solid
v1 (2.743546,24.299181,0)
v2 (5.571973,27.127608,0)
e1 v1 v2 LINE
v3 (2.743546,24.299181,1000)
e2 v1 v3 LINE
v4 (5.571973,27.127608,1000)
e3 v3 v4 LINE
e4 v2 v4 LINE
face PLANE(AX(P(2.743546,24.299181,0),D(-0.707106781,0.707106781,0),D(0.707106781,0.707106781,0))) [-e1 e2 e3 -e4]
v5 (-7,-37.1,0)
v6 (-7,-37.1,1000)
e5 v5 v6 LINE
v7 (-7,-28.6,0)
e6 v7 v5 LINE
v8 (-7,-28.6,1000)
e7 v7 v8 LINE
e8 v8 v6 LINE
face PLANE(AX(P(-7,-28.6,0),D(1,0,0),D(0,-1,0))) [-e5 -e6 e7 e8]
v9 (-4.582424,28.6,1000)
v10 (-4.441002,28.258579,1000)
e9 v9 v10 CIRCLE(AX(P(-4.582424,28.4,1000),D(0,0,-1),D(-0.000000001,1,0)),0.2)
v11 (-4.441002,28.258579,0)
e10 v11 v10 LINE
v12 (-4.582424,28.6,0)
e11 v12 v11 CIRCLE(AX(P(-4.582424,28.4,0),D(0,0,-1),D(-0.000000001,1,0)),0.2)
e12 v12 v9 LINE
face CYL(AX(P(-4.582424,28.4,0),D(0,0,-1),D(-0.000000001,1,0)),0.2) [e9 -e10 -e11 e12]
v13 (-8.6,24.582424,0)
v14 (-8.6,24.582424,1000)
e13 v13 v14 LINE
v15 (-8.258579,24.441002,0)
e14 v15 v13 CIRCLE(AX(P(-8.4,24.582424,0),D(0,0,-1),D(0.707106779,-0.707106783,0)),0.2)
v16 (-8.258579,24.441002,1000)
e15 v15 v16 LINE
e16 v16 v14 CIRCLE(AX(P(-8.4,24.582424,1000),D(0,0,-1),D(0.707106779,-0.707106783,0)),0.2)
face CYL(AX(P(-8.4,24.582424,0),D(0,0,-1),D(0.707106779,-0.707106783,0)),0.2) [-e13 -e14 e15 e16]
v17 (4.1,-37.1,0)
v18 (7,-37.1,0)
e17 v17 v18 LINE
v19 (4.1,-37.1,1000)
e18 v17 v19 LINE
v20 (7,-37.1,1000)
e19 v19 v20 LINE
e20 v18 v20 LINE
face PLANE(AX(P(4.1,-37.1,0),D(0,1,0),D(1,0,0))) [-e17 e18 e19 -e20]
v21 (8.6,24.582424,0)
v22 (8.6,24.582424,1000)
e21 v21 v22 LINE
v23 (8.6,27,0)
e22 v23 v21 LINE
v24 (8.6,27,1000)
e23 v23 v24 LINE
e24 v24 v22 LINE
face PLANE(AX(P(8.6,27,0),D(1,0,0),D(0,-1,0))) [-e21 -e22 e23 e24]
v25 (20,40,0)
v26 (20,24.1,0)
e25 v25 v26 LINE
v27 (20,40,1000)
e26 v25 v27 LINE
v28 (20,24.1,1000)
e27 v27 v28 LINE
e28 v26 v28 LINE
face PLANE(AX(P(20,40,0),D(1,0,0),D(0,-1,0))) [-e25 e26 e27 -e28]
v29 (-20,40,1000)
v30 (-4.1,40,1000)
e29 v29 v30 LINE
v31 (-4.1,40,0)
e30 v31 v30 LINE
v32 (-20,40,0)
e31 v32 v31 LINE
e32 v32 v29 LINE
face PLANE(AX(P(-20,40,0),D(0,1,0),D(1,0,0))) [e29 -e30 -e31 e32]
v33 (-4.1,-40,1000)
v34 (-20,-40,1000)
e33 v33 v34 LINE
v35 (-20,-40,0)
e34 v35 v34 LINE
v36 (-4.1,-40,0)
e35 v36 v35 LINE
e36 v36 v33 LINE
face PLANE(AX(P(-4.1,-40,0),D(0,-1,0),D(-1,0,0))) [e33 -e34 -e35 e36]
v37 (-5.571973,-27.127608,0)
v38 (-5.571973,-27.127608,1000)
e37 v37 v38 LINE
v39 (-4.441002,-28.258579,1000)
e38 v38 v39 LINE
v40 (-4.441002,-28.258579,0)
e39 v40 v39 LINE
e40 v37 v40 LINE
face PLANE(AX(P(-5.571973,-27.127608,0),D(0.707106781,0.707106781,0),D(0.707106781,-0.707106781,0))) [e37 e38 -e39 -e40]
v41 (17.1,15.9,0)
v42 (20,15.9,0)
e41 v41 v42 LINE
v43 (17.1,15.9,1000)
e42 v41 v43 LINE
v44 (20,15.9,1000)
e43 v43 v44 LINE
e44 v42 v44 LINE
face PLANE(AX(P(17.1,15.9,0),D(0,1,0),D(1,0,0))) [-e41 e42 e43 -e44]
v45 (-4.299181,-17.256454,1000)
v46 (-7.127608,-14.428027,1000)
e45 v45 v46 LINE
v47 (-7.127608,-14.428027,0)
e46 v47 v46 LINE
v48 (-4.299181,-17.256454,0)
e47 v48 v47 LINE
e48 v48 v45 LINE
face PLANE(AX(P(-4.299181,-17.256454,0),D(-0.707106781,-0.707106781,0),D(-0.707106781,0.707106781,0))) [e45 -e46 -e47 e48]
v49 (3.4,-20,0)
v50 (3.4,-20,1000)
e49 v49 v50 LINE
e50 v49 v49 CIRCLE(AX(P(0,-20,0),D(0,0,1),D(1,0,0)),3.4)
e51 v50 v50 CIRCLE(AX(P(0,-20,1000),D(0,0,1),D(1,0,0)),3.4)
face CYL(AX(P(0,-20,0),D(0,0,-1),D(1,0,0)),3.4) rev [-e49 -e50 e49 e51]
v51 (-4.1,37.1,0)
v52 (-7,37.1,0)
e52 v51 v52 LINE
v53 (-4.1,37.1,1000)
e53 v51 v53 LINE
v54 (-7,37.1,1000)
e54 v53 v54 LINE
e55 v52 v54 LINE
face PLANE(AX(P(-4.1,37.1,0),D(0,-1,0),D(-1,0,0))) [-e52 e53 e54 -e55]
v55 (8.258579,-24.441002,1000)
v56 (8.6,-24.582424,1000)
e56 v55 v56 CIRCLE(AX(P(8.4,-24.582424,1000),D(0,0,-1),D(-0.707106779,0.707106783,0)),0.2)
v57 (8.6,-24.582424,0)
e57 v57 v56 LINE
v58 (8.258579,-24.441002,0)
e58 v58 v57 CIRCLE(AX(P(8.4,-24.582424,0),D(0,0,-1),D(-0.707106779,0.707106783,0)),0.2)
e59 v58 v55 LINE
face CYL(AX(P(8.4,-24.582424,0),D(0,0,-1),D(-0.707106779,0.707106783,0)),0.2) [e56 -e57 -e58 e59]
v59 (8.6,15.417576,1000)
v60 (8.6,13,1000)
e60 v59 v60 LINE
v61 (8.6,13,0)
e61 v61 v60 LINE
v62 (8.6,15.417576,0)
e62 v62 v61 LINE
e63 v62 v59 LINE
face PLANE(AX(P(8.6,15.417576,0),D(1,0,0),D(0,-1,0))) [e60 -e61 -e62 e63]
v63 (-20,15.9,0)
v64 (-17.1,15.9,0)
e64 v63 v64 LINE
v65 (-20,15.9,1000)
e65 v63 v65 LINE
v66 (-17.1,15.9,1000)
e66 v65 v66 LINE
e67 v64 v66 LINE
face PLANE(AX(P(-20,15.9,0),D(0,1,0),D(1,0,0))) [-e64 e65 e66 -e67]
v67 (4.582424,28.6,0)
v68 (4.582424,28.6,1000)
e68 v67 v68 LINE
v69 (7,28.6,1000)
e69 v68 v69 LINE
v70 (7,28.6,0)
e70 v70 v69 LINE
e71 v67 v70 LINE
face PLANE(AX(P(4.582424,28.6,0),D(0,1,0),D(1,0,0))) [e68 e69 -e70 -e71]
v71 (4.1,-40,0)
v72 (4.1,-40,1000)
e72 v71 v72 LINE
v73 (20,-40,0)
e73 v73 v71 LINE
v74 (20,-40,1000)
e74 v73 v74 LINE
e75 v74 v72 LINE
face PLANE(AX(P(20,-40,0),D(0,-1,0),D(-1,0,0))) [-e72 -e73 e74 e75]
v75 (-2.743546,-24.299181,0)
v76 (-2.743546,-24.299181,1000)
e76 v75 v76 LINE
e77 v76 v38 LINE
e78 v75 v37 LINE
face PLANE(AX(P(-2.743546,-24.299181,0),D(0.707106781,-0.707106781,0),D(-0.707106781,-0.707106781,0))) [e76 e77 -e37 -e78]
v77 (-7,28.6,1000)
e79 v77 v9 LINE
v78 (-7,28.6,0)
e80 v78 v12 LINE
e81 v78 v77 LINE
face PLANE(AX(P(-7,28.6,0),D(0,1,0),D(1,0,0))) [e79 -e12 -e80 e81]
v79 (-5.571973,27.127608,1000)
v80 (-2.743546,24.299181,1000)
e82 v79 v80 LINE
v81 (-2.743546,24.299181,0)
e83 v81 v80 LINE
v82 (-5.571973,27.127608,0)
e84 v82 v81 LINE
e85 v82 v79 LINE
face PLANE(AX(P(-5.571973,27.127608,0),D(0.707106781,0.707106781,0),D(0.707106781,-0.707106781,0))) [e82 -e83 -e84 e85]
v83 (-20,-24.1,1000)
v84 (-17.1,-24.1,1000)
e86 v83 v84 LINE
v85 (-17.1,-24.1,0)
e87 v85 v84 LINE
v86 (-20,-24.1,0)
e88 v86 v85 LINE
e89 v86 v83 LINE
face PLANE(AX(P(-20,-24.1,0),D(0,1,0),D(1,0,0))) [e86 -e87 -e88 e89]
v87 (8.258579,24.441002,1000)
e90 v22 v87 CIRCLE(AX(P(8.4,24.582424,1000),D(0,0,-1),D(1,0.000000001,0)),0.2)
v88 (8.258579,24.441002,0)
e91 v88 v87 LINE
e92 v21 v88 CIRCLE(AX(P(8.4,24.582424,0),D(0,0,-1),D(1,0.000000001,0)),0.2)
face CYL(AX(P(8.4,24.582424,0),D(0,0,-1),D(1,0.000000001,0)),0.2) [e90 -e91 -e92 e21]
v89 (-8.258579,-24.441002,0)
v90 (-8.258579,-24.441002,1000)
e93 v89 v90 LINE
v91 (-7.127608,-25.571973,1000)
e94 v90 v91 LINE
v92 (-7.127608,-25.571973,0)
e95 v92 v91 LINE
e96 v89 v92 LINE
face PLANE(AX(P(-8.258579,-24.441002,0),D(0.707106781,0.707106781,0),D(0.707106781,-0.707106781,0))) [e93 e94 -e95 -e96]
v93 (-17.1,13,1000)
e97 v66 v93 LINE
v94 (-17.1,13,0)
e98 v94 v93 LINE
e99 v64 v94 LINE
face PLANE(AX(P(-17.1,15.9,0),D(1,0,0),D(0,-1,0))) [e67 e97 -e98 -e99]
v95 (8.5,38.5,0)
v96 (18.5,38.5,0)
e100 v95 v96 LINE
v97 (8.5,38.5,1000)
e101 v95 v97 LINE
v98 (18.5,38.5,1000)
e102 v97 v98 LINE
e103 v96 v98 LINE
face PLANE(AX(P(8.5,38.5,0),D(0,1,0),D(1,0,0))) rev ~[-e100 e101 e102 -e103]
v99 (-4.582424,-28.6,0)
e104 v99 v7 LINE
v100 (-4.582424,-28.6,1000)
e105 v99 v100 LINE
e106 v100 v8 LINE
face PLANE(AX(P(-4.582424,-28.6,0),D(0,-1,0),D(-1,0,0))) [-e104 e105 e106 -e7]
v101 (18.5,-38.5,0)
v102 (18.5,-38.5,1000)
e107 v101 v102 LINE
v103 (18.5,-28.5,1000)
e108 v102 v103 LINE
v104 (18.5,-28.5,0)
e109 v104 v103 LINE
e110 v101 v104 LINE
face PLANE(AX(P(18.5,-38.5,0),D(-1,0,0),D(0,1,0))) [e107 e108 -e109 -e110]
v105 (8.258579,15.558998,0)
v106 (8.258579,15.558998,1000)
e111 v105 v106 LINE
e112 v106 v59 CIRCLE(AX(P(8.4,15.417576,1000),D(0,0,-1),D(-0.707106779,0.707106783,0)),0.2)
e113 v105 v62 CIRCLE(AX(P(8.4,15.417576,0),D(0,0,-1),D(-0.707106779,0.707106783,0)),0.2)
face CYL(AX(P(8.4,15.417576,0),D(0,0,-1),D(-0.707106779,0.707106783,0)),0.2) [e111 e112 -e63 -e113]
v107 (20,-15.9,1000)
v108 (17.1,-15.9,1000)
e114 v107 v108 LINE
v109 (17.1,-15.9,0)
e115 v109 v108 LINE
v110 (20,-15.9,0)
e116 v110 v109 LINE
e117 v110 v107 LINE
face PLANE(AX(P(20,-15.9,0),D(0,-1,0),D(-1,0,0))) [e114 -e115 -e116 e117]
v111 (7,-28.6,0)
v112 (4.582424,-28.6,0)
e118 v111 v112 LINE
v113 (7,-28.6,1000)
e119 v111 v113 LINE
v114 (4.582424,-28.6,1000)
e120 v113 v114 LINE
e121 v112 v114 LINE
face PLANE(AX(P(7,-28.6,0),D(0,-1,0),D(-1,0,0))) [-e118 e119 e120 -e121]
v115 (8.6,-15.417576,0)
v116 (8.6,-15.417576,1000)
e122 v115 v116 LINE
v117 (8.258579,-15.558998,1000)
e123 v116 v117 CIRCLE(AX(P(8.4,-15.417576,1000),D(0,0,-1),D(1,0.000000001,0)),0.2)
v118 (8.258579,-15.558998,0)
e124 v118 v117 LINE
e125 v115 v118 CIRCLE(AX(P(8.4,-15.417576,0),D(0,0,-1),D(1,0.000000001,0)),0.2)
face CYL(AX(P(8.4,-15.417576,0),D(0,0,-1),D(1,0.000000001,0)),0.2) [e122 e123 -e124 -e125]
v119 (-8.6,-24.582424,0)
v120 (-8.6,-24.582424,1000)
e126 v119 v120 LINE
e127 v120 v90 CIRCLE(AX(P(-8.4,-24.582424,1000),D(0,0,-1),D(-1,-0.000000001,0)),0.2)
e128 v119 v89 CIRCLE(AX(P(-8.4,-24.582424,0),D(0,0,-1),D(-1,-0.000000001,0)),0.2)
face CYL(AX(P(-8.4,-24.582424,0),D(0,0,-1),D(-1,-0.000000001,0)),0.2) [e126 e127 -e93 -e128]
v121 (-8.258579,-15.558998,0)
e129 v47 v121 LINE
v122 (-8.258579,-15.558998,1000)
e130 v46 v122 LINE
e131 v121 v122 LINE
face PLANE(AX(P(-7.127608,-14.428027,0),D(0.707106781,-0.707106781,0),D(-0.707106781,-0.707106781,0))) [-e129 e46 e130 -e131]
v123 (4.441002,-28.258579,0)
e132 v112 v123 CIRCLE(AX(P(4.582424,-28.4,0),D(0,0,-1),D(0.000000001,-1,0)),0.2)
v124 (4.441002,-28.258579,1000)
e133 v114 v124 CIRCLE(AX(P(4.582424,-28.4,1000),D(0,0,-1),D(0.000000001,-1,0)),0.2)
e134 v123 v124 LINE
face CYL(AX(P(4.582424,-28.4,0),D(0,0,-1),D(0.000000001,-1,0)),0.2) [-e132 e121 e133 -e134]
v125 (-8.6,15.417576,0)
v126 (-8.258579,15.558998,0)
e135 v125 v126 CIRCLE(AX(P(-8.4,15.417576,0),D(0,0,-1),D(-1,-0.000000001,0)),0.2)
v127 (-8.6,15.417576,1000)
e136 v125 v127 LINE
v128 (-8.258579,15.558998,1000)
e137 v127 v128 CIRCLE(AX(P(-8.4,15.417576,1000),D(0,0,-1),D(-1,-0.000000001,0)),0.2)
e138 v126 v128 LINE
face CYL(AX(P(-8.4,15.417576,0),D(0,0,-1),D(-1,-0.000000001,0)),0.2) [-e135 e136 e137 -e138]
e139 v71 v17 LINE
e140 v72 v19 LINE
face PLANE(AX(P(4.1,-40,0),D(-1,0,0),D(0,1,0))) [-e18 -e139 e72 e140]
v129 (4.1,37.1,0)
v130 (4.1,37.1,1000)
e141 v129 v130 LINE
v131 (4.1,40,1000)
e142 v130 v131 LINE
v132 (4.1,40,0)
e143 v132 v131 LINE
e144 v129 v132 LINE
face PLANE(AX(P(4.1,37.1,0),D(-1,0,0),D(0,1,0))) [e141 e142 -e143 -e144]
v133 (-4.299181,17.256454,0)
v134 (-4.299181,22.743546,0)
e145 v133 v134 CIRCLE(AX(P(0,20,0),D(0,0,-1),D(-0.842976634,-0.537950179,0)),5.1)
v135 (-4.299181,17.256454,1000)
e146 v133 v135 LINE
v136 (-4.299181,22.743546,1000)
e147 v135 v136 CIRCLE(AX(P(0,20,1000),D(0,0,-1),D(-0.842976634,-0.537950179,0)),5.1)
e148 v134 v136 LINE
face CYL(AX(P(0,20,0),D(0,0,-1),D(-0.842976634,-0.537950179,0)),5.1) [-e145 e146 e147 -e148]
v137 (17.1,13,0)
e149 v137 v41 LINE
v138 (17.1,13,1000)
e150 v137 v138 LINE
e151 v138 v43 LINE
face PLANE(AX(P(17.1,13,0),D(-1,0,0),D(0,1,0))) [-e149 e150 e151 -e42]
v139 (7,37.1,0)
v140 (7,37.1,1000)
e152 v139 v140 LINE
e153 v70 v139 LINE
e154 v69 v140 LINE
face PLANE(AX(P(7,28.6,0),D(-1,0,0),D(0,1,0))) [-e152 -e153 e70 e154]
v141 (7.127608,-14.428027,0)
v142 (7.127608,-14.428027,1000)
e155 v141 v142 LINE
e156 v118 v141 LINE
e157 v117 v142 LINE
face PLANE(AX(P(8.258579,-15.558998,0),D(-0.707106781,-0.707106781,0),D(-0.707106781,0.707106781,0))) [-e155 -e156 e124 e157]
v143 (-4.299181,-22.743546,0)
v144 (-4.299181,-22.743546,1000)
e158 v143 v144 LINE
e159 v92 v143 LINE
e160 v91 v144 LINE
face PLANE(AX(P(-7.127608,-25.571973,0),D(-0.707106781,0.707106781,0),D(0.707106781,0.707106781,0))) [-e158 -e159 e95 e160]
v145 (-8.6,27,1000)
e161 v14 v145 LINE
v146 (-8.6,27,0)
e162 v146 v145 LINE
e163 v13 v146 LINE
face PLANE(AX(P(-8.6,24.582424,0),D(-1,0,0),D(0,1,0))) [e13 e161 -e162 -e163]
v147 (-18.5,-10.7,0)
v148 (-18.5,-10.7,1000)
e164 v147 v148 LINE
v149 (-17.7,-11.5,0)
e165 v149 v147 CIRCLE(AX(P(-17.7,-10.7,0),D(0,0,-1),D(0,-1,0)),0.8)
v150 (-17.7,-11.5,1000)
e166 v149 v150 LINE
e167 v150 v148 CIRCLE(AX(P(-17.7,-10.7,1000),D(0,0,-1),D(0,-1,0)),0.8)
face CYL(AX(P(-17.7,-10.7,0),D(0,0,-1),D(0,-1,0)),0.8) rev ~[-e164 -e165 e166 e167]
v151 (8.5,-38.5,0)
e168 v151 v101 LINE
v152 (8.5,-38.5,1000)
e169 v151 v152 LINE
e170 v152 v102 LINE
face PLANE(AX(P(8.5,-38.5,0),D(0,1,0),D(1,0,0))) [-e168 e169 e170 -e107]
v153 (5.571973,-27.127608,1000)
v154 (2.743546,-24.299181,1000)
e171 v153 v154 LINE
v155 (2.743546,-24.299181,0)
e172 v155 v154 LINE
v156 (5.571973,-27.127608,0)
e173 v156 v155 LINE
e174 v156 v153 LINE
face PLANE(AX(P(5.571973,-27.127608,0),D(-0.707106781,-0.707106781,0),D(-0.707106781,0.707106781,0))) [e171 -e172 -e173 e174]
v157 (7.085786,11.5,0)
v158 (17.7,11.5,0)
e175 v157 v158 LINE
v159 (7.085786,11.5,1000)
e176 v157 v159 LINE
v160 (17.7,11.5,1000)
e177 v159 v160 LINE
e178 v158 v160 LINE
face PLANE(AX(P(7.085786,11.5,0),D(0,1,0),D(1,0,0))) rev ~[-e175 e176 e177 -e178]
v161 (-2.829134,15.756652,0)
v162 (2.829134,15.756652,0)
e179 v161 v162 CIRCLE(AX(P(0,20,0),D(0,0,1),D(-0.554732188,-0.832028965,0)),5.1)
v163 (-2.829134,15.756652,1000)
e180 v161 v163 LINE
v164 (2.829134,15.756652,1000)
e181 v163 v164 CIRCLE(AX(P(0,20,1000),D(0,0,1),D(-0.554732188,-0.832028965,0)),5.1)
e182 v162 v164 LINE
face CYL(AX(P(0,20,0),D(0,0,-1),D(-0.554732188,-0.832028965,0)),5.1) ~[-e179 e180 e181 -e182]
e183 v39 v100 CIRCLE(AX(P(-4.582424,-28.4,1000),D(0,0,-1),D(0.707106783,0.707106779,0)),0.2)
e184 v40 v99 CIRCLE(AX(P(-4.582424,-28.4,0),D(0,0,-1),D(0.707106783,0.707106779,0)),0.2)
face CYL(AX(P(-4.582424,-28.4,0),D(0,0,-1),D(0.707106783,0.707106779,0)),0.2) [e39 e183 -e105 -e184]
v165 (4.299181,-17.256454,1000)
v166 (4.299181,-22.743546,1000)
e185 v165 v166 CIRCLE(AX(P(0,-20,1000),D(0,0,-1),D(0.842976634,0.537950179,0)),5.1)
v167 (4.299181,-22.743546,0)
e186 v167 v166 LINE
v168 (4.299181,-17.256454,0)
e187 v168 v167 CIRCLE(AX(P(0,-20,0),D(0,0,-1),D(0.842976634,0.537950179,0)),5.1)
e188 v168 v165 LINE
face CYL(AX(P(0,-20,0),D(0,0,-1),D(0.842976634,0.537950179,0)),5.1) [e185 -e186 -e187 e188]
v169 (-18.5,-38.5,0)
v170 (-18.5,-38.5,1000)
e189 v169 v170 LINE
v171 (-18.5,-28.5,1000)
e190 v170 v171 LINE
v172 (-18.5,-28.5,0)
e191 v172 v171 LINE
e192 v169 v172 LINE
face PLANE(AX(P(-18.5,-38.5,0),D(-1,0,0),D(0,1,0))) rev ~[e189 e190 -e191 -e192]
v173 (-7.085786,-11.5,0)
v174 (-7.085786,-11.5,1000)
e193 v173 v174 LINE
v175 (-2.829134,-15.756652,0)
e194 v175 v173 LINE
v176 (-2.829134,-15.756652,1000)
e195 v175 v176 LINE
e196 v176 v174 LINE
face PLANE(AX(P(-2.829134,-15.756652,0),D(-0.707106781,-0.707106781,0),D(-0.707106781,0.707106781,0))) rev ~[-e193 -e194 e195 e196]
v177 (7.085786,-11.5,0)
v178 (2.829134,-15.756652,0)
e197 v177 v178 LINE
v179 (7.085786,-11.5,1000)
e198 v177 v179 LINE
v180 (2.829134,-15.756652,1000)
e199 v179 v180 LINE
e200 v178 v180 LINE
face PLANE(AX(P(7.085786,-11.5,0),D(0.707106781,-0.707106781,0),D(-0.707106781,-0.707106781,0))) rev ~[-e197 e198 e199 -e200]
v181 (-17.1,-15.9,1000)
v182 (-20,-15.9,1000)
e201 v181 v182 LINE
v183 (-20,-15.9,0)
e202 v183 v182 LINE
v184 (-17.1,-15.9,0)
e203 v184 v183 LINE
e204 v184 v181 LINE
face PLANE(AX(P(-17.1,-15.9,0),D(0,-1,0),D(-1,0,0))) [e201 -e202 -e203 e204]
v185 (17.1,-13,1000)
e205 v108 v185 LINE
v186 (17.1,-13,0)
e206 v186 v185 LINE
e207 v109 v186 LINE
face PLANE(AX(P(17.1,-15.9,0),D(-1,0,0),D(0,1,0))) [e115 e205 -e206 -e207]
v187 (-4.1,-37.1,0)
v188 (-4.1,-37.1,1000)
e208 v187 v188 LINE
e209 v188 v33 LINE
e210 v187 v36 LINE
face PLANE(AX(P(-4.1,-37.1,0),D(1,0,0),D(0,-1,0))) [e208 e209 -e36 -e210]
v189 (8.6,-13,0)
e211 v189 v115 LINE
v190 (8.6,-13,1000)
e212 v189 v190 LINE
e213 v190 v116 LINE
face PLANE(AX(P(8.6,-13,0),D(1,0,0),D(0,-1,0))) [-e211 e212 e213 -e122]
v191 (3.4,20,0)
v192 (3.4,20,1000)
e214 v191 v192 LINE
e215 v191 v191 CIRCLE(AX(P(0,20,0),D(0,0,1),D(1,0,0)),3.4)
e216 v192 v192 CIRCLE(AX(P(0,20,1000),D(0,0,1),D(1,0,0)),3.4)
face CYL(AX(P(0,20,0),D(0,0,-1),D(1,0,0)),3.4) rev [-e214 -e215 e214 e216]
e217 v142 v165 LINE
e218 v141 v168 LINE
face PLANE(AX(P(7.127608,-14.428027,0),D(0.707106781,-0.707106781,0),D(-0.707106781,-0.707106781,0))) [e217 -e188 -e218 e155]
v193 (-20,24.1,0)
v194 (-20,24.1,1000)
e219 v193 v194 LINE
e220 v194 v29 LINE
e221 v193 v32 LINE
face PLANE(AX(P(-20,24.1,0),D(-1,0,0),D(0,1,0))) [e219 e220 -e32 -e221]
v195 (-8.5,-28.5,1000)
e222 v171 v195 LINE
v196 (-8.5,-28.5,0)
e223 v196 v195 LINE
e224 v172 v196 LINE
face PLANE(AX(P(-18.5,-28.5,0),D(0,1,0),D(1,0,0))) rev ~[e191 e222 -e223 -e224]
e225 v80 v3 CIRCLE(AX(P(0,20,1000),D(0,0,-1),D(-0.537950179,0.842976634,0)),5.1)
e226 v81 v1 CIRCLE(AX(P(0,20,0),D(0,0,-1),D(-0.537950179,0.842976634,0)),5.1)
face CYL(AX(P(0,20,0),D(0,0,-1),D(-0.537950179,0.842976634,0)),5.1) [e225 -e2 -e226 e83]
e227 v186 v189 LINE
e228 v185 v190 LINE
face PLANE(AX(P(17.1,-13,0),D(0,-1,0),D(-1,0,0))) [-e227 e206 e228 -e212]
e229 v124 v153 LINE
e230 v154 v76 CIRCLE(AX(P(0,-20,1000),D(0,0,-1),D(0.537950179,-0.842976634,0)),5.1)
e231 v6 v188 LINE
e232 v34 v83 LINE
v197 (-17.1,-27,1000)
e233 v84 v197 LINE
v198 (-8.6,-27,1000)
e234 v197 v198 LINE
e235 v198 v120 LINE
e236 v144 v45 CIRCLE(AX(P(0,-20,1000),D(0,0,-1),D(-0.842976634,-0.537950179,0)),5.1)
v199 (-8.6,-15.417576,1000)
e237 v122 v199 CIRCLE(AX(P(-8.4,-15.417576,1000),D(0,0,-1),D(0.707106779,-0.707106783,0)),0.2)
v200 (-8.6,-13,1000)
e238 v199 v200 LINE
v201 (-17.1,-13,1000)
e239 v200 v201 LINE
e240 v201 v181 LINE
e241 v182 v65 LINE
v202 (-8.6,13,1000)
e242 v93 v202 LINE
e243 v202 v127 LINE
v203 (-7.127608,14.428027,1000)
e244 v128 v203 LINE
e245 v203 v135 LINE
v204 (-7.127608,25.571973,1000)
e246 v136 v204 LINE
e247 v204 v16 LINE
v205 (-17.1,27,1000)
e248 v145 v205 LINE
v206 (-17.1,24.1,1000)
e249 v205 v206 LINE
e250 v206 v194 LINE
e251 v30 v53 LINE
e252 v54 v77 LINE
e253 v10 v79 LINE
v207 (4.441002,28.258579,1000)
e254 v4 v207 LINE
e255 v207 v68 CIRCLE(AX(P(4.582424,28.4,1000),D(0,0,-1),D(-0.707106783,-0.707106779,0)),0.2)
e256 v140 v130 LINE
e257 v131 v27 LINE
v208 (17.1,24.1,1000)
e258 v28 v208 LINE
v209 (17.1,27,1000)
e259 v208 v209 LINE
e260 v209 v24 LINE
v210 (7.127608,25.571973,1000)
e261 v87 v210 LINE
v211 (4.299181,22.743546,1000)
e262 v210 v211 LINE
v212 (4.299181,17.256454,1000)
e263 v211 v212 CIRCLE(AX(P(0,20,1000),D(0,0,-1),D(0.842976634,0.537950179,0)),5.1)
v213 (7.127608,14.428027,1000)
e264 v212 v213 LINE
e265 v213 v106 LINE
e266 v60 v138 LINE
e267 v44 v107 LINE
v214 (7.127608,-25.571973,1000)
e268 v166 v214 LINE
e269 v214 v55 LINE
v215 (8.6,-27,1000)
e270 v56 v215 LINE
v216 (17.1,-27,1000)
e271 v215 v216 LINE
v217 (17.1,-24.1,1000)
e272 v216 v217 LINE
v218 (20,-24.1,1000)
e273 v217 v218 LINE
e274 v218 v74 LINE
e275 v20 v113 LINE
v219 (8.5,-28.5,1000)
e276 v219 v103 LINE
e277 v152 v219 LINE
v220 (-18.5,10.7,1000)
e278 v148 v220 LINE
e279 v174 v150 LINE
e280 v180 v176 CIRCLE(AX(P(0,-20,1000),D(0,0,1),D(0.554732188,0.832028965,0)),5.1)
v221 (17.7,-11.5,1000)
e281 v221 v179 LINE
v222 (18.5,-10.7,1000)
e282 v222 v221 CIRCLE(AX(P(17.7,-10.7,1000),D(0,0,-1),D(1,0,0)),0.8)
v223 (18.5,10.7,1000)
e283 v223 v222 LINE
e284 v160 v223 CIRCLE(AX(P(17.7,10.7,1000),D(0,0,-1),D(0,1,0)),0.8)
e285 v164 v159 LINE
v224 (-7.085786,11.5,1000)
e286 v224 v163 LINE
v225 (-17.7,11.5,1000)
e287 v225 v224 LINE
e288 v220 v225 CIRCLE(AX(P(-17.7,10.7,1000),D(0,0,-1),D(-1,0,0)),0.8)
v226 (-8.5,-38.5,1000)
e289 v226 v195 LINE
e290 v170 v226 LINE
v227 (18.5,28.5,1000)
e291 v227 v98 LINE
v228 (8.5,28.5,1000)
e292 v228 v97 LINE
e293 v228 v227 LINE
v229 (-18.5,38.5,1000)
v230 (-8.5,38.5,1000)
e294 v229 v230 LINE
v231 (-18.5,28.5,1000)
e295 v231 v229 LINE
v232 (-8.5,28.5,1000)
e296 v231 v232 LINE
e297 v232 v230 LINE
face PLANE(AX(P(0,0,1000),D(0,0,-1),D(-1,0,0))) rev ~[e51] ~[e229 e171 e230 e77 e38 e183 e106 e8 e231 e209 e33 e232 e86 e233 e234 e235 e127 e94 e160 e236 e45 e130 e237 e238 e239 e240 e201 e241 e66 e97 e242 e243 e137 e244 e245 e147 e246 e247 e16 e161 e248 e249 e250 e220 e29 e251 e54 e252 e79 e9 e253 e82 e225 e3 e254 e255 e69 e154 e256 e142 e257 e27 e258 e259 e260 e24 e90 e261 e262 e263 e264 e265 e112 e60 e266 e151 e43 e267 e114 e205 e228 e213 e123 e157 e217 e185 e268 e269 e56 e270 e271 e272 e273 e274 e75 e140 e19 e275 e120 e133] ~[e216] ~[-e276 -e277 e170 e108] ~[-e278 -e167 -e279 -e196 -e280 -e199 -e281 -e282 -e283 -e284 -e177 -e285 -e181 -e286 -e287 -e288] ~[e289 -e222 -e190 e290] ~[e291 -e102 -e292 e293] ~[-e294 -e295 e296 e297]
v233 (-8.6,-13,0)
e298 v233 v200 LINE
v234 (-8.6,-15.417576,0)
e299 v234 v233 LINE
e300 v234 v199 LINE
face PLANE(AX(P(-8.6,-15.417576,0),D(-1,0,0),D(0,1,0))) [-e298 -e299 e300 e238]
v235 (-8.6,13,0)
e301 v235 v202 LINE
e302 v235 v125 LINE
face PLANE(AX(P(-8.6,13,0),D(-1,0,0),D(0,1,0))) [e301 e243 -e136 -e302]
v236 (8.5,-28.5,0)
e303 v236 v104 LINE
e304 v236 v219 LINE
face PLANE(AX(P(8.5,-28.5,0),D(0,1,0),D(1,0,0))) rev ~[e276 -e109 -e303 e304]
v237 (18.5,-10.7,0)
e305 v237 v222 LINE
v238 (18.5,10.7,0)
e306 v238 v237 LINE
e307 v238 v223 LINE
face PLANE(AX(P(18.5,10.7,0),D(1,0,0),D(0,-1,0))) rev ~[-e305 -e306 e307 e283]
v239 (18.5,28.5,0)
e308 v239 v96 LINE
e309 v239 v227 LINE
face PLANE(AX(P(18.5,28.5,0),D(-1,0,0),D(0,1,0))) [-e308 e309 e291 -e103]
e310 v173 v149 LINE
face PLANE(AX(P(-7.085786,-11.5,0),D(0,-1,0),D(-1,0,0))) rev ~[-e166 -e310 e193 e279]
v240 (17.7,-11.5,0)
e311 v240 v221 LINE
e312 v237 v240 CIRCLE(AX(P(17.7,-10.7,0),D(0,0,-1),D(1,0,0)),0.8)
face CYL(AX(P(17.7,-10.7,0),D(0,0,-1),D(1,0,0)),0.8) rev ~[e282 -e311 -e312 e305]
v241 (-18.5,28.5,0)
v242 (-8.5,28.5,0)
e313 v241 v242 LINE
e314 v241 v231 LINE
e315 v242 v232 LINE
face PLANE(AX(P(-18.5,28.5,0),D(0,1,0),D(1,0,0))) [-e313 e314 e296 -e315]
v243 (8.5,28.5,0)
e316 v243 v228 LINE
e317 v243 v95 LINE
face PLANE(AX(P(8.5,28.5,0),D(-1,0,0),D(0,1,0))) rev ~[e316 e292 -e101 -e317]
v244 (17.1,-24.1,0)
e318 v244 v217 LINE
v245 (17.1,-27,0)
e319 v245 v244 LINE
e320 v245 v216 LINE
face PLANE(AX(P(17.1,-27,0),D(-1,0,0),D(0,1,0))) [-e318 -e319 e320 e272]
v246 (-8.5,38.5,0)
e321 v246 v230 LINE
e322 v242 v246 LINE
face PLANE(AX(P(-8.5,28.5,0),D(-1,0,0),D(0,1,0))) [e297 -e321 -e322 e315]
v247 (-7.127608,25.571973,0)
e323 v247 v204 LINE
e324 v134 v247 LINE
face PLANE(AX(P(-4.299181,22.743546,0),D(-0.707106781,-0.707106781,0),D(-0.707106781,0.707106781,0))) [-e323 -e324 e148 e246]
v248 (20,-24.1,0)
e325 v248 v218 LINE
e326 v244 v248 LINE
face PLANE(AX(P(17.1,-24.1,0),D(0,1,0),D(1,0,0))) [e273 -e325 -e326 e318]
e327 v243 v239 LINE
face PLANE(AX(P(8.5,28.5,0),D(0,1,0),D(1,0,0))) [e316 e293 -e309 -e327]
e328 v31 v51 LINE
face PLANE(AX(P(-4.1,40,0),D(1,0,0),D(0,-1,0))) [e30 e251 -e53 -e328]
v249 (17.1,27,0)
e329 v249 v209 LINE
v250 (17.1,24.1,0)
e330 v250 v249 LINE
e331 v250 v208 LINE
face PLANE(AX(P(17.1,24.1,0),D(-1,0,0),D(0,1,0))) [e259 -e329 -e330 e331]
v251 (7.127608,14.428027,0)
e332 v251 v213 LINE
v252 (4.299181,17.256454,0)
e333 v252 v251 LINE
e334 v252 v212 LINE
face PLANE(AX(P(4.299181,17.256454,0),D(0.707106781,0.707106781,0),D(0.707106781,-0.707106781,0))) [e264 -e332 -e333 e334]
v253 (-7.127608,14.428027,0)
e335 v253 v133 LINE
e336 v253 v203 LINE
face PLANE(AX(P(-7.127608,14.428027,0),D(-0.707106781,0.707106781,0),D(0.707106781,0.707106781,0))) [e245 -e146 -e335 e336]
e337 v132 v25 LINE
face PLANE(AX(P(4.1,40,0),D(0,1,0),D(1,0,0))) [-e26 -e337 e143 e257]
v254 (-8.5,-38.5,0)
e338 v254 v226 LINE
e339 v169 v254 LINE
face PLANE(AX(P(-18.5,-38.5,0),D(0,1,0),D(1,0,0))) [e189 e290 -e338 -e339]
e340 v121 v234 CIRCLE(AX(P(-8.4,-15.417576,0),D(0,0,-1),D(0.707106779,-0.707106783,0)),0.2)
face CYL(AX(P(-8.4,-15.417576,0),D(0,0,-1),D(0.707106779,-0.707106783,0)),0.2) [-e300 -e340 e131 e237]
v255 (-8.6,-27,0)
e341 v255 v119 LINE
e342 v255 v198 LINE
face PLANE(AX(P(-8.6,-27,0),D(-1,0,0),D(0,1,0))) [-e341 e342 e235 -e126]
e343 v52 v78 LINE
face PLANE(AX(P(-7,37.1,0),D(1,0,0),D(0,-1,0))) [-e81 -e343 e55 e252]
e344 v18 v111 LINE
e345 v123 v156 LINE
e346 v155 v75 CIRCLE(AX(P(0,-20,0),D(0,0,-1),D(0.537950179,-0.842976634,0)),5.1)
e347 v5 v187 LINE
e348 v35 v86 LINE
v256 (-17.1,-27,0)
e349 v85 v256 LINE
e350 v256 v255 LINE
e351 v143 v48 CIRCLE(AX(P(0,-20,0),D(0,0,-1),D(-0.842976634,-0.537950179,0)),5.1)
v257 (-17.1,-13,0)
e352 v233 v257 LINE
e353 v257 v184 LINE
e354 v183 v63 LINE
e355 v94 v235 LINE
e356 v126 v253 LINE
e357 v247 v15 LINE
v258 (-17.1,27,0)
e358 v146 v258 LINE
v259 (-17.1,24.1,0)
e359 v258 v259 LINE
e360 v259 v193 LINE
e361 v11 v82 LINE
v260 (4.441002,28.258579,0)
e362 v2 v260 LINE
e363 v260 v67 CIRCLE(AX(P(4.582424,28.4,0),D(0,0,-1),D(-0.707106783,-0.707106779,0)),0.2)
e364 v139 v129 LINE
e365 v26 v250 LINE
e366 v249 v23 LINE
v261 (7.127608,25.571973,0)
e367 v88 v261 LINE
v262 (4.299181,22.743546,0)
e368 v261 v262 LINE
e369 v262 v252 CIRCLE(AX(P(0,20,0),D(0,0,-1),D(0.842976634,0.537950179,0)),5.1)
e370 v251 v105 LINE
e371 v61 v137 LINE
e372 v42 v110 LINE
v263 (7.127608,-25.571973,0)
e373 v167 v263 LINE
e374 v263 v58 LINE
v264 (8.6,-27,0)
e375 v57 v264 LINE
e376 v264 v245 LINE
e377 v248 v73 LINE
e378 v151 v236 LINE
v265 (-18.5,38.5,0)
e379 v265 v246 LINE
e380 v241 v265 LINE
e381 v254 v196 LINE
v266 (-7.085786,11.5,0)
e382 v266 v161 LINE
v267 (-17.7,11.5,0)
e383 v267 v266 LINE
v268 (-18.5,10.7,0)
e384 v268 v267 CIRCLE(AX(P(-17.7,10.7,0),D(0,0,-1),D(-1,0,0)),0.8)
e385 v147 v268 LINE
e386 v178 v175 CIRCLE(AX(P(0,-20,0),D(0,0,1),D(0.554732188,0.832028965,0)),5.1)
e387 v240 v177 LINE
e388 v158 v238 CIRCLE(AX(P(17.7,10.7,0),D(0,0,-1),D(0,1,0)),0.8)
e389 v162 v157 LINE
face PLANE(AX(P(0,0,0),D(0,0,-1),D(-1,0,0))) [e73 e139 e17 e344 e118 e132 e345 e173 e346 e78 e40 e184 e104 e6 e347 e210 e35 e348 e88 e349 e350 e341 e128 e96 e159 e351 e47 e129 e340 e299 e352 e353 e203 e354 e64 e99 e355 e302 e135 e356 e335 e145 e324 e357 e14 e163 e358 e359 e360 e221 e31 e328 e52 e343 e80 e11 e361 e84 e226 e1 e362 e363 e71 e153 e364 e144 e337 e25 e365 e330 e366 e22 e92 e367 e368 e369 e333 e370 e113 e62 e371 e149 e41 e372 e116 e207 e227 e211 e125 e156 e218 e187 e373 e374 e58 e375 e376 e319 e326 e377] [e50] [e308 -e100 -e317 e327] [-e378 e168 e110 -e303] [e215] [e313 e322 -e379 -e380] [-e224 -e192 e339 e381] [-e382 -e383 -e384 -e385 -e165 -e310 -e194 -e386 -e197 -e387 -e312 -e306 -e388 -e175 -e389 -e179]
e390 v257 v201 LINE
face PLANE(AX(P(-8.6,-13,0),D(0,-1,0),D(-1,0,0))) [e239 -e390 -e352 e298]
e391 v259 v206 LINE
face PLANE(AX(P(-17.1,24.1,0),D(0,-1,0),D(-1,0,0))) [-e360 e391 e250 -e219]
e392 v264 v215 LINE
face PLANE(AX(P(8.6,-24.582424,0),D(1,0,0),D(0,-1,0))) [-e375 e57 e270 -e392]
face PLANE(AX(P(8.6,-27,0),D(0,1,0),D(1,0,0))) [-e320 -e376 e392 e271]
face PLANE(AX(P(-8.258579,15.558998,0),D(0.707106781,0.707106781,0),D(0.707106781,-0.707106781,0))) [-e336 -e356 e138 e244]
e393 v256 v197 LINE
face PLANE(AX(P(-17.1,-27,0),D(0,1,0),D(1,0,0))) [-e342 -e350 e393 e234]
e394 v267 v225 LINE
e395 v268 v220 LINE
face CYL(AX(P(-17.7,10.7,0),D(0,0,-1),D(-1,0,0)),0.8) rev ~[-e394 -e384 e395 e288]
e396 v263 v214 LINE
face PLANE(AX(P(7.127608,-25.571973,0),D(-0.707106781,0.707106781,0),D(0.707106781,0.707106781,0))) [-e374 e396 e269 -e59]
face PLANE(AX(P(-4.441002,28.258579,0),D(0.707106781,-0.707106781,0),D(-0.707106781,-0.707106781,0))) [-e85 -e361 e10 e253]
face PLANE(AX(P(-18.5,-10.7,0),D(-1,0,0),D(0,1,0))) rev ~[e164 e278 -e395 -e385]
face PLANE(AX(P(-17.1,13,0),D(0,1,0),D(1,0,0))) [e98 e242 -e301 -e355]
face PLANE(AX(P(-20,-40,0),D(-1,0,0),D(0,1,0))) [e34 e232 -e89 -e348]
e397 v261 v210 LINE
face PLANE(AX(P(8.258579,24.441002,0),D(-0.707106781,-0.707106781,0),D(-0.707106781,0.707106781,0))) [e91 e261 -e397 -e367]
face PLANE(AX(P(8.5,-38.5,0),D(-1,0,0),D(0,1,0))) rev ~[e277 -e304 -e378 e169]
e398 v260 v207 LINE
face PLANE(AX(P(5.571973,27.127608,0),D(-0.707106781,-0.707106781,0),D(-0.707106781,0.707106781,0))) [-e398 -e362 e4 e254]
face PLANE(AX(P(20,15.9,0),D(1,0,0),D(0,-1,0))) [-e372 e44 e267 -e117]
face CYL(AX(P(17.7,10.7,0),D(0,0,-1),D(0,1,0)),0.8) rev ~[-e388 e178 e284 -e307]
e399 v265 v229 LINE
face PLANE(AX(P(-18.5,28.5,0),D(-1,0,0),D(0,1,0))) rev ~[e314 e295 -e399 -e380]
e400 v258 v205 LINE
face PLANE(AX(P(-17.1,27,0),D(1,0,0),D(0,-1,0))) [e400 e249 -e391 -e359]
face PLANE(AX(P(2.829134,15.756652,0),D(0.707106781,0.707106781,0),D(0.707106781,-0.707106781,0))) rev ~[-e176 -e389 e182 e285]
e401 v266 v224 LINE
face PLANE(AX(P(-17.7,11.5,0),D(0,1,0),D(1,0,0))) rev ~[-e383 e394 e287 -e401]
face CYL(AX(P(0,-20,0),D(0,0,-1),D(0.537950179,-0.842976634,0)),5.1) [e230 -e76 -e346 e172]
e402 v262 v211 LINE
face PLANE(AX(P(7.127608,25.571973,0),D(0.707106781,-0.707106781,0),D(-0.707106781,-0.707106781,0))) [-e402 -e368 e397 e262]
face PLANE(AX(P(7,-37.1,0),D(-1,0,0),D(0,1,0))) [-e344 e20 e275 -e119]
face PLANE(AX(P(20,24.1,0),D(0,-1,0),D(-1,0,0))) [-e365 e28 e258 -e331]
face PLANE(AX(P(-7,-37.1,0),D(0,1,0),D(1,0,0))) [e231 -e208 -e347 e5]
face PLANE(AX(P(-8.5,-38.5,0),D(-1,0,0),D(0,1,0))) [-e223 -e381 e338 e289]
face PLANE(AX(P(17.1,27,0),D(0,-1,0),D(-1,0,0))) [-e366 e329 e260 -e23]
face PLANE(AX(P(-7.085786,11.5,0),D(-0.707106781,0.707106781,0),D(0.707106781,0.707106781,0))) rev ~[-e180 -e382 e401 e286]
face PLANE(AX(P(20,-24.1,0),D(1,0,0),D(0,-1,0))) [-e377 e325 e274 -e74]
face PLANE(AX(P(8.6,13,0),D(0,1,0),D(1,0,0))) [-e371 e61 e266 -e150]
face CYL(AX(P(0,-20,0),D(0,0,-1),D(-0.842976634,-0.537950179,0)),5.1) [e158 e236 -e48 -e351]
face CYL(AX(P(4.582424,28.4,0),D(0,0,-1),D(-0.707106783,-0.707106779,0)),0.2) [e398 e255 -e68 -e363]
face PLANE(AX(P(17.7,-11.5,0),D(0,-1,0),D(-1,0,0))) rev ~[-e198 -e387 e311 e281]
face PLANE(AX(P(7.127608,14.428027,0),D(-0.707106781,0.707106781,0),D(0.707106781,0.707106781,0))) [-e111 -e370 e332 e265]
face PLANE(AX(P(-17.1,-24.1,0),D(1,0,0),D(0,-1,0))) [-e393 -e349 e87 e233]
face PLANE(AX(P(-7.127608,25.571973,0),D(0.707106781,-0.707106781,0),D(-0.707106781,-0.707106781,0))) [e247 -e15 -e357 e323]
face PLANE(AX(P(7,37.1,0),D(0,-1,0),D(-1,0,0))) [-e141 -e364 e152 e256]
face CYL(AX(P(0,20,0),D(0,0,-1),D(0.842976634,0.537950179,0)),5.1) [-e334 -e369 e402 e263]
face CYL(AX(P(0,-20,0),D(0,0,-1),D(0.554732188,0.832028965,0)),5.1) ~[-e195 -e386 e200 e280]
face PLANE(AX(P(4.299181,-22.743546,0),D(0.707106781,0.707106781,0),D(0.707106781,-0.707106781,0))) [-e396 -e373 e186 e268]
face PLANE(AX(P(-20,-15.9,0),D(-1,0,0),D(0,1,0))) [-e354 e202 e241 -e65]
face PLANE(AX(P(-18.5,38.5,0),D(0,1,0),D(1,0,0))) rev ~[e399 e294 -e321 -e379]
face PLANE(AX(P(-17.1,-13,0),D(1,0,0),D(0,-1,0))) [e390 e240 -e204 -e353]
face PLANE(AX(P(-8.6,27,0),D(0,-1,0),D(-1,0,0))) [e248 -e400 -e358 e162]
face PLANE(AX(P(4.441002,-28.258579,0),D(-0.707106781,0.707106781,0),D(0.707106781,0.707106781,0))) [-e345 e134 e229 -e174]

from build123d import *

# Parameters (mm, degrees)
SKETCH_1_R      = 3.4
SKETCH_1_W      = 10
SKETCH_1_H      = 10
EXTRUDE_1_DEPTH = 1000


with BuildPart() as part:
    # Эскиз1 → Бобышка-Вытянуть1 (new body)
    with BuildSketch(Plane.XY):
        with BuildLine():
            Line((-20, 27), (-20, 40))
            Line((-20, 40), (-7, 40))
            Line((-7, 40), (-4.1, 40))
            Line((-4.1, 40), (-4.1, 37.1))
            Line((-4.1, 37.1), (-7, 37.1))
            Line((-7, 37.1), (-7, 28.6))
            Line((-7, 28.6), (-4.582423707, 28.6))
            ThreePointArc((-4.582423707, 28.6), (-4.3976478, 28.476536686), (-4.44100235, 28.258578644))
            Line((-4.44100235, 28.258578644), (-5.571973038, 27.127607956))
            Line((-5.571973038, 27.127607956), (-2.743545913, 24.299180832))
            ThreePointArc((-2.743545913, 24.299180832), (0, 25.1), (2.743545913, 24.299180832))
            Line((2.743545913, 24.299180832), (5.571973038, 27.127607956))
            Line((5.571973038, 27.127607956), (4.44100235, 28.258578644))
            ThreePointArc((4.44100235, 28.258578644), (4.3976478, 28.476536686), (4.582423707, 28.6))
            Line((4.582423707, 28.6), (7, 28.6))
            Line((7, 28.6), (7, 37.1))
            Line((7, 37.1), (4.1, 37.1))
            Line((4.1, 37.1), (4.1, 40))
            Line((4.1, 40), (7, 40))
            Line((7, 40), (20, 40))
            Line((20, 40), (20, 27))
            Line((20, 27), (20, 24.1))
            Line((20, 24.1), (17.1, 24.1))
            Line((17.1, 24.1), (17.1, 27))
            Line((17.1, 27), (8.6, 27))
            Line((8.6, 27), (8.6, 24.582423707))
            ThreePointArc((8.6, 24.582423707), (8.476536686, 24.3976478), (8.258578644, 24.44100235))
            Line((8.258578644, 24.44100235), (7.127607956, 25.571973038))
            Line((7.127607956, 25.571973038), (4.299180832, 22.743545913))
            ThreePointArc((4.299180832, 22.743545913), (5.1, 20), (4.299180832, 17.256454087))
            Line((4.299180832, 17.256454087), (7.127607956, 14.428026962))
            Line((7.127607956, 14.428026962), (8.258578644, 15.55899765))
            ThreePointArc((8.258578644, 15.55899765), (8.476536686, 15.6023522), (8.6, 15.417576293))
            Line((8.6, 15.417576293), (8.6, 13))
            Line((8.6, 13), (17.1, 13))
            Line((17.1, 13), (17.1, 15.9))
            Line((17.1, 15.9), (20, 15.9))
            Line((20, 15.9), (20, 13))
            Line((20, 13), (20, -13))
            Line((20, -13), (20, -15.9))
            Line((20, -15.9), (17.1, -15.9))
            Line((17.1, -15.9), (17.1, -13))
            Line((17.1, -13), (8.6, -13))
            Line((8.6, -13), (8.6, -15.417576293))
            ThreePointArc((8.6, -15.417576293), (8.476536686, -15.6023522), (8.258578644, -15.55899765))
            Line((8.258578644, -15.55899765), (7.127607956, -14.428026962))
            Line((7.127607956, -14.428026962), (4.299180832, -17.256454087))
            ThreePointArc((4.299180832, -17.256454087), (5.1, -20), (4.299180832, -22.743545913))
            Line((4.299180832, -22.743545913), (7.127607956, -25.571973038))
            Line((7.127607956, -25.571973038), (8.258578644, -24.44100235))
            ThreePointArc((8.258578644, -24.44100235), (8.476536686, -24.3976478), (8.6, -24.582423707))
            Line((8.6, -24.582423707), (8.6, -27))
            Line((8.6, -27), (17.1, -27))
            Line((17.1, -27), (17.1, -24.1))
            Line((17.1, -24.1), (20, -24.1))
            Line((20, -24.1), (20, -27))
            Line((20, -27), (20, -40))
            Line((20, -40), (7, -40))
            Line((7, -40), (4.1, -40))
            Line((4.1, -40), (4.1, -37.1))
            Line((4.1, -37.1), (7, -37.1))
            Line((7, -37.1), (7, -28.6))
            Line((7, -28.6), (4.582423707, -28.6))
            ThreePointArc((4.582423707, -28.6), (4.3976478, -28.476536686), (4.44100235, -28.258578644))
            Line((4.44100235, -28.258578644), (5.571973038, -27.127607956))
            Line((5.571973038, -27.127607956), (2.743545913, -24.299180832))
            ThreePointArc((2.743545913, -24.299180832), (0, -25.1), (-2.743545913, -24.299180832))
            Line((-2.743545913, -24.299180832), (-5.571973038, -27.127607956))
            Line((-5.571973038, -27.127607956), (-4.44100235, -28.258578644))
            ThreePointArc((-4.44100235, -28.258578644), (-4.3976478, -28.476536686), (-4.582423707, -28.6))
            Line((-4.582423707, -28.6), (-7, -28.6))
            Line((-7, -28.6), (-7, -37.1))
            Line((-7, -37.1), (-4.1, -37.1))
            Line((-4.1, -37.1), (-4.1, -40))
            Line((-4.1, -40), (-7, -40))
            Line((-7, -40), (-20, -40))
            Line((-20, -40), (-20, -27))
            Line((-20, -27), (-20, -24.1))
            Line((-20, -24.1), (-17.1, -24.1))
            Line((-17.1, -24.1), (-17.1, -27))
            Line((-17.1, -27), (-8.6, -27))
            Line((-8.6, -27), (-8.6, -24.582423707))
            ThreePointArc((-8.6, -24.582423707), (-8.476536686, -24.3976478), (-8.258578644, -24.44100235))
            Line((-8.258578644, -24.44100235), (-7.127607956, -25.571973038))
            Line((-7.127607956, -25.571973038), (-4.299180832, -22.743545913))
            ThreePointArc((-4.299180832, -22.743545913), (-5.1, -20), (-4.299180832, -17.256454087))
            Line((-4.299180832, -17.256454087), (-7.127607956, -14.428026962))
            Line((-7.127607956, -14.428026962), (-8.258578644, -15.55899765))
            ThreePointArc((-8.258578644, -15.55899765), (-8.476536686, -15.6023522), (-8.6, -15.417576293))
            Line((-8.6, -15.417576293), (-8.6, -13))
            Line((-8.6, -13), (-17.1, -13))
            Line((-17.1, -13), (-17.1, -15.9))
            Line((-17.1, -15.9), (-20, -15.9))
            Line((-20, -15.9), (-20, -13))
            Line((-20, -13), (-20, 13))
            Line((-20, 13), (-20, 15.9))
            Line((-20, 15.9), (-17.1, 15.9))
            Line((-17.1, 15.9), (-17.1, 13))
            Line((-17.1, 13), (-8.6, 13))
            Line((-8.6, 13), (-8.6, 15.417576293))
            ThreePointArc((-8.6, 15.417576293), (-8.476536686, 15.6023522), (-8.258578644, 15.55899765))
            Line((-8.258578644, 15.55899765), (-7.127607956, 14.428026962))
            Line((-7.127607956, 14.428026962), (-4.299180832, 17.256454087))
            ThreePointArc((-4.299180832, 17.256454087), (-5.1, 20), (-4.299180832, 22.743545913))
            Line((-4.299180832, 22.743545913), (-7.127607956, 25.571973038))
            Line((-7.127607956, 25.571973038), (-8.258578644, 24.44100235))
            ThreePointArc((-8.258578644, 24.44100235), (-8.476536686, 24.3976478), (-8.6, 24.582423707))
            Line((-8.6, 24.582423707), (-8.6, 27))
            Line((-8.6, 27), (-17.1, 27))
            Line((-17.1, 27), (-17.1, 24.1))
            Line((-17.1, 24.1), (-20, 24.1))
            Line((-20, 24.1), (-20, 27))
        make_face()
        with Locations((0, 20)):
            Circle(SKETCH_1_R, mode=Mode.SUBTRACT)
        with Locations((0, -20)):
            Circle(SKETCH_1_R, mode=Mode.SUBTRACT)
        with Locations((13.5, 33.5)):
            Rectangle(SKETCH_1_W, SKETCH_1_H, mode=Mode.SUBTRACT)
        with Locations((-13.5, 33.5)):
            Rectangle(SKETCH_1_W, SKETCH_1_H, mode=Mode.SUBTRACT)
        with Locations((13.5, -33.5)):
            Rectangle(SKETCH_1_W, SKETCH_1_H, mode=Mode.SUBTRACT)
        with Locations((-13.5, -33.5)):
            Rectangle(SKETCH_1_W, SKETCH_1_H, mode=Mode.SUBTRACT)
        with BuildLine():
            Line((-17.7, 11.5), (-7.085786438, 11.5))
            Line((-7.085786438, 11.5), (-2.829134161, 15.756652277))
            ThreePointArc((-2.829134161, 15.756652277), (0, 14.9), (2.829134161, 15.756652277))
            Line((2.829134161, 15.756652277), (7.085786438, 11.5))
            Line((7.085786438, 11.5), (17.7, 11.5))
            ThreePointArc((17.7, 11.5), (18.265685425, 11.265685425), (18.5, 10.7))
            Line((18.5, 10.7), (18.5, -10.7))
            ThreePointArc((18.5, -10.7), (18.265685425, -11.265685425), (17.7, -11.5))
            Line((17.7, -11.5), (7.085786438, -11.5))
            Line((7.085786438, -11.5), (2.829134161, -15.756652277))
            ThreePointArc((2.829134161, -15.756652277), (0, -14.9), (-2.829134161, -15.756652277))
            Line((-2.829134161, -15.756652277), (-7.085786438, -11.5))
            Line((-7.085786438, -11.5), (-17.7, -11.5))
            ThreePointArc((-17.7, -11.5), (-18.265685425, -11.265685425), (-18.5, -10.7))
            Line((-18.5, -10.7), (-18.5, 10.7))
            ThreePointArc((-18.5, 10.7), (-18.265685425, 11.265685425), (-17.7, 11.5))
        make_face(mode=Mode.SUBTRACT)
    extrude(amount=EXTRUDE_1_DEPTH)


solid = part.part
